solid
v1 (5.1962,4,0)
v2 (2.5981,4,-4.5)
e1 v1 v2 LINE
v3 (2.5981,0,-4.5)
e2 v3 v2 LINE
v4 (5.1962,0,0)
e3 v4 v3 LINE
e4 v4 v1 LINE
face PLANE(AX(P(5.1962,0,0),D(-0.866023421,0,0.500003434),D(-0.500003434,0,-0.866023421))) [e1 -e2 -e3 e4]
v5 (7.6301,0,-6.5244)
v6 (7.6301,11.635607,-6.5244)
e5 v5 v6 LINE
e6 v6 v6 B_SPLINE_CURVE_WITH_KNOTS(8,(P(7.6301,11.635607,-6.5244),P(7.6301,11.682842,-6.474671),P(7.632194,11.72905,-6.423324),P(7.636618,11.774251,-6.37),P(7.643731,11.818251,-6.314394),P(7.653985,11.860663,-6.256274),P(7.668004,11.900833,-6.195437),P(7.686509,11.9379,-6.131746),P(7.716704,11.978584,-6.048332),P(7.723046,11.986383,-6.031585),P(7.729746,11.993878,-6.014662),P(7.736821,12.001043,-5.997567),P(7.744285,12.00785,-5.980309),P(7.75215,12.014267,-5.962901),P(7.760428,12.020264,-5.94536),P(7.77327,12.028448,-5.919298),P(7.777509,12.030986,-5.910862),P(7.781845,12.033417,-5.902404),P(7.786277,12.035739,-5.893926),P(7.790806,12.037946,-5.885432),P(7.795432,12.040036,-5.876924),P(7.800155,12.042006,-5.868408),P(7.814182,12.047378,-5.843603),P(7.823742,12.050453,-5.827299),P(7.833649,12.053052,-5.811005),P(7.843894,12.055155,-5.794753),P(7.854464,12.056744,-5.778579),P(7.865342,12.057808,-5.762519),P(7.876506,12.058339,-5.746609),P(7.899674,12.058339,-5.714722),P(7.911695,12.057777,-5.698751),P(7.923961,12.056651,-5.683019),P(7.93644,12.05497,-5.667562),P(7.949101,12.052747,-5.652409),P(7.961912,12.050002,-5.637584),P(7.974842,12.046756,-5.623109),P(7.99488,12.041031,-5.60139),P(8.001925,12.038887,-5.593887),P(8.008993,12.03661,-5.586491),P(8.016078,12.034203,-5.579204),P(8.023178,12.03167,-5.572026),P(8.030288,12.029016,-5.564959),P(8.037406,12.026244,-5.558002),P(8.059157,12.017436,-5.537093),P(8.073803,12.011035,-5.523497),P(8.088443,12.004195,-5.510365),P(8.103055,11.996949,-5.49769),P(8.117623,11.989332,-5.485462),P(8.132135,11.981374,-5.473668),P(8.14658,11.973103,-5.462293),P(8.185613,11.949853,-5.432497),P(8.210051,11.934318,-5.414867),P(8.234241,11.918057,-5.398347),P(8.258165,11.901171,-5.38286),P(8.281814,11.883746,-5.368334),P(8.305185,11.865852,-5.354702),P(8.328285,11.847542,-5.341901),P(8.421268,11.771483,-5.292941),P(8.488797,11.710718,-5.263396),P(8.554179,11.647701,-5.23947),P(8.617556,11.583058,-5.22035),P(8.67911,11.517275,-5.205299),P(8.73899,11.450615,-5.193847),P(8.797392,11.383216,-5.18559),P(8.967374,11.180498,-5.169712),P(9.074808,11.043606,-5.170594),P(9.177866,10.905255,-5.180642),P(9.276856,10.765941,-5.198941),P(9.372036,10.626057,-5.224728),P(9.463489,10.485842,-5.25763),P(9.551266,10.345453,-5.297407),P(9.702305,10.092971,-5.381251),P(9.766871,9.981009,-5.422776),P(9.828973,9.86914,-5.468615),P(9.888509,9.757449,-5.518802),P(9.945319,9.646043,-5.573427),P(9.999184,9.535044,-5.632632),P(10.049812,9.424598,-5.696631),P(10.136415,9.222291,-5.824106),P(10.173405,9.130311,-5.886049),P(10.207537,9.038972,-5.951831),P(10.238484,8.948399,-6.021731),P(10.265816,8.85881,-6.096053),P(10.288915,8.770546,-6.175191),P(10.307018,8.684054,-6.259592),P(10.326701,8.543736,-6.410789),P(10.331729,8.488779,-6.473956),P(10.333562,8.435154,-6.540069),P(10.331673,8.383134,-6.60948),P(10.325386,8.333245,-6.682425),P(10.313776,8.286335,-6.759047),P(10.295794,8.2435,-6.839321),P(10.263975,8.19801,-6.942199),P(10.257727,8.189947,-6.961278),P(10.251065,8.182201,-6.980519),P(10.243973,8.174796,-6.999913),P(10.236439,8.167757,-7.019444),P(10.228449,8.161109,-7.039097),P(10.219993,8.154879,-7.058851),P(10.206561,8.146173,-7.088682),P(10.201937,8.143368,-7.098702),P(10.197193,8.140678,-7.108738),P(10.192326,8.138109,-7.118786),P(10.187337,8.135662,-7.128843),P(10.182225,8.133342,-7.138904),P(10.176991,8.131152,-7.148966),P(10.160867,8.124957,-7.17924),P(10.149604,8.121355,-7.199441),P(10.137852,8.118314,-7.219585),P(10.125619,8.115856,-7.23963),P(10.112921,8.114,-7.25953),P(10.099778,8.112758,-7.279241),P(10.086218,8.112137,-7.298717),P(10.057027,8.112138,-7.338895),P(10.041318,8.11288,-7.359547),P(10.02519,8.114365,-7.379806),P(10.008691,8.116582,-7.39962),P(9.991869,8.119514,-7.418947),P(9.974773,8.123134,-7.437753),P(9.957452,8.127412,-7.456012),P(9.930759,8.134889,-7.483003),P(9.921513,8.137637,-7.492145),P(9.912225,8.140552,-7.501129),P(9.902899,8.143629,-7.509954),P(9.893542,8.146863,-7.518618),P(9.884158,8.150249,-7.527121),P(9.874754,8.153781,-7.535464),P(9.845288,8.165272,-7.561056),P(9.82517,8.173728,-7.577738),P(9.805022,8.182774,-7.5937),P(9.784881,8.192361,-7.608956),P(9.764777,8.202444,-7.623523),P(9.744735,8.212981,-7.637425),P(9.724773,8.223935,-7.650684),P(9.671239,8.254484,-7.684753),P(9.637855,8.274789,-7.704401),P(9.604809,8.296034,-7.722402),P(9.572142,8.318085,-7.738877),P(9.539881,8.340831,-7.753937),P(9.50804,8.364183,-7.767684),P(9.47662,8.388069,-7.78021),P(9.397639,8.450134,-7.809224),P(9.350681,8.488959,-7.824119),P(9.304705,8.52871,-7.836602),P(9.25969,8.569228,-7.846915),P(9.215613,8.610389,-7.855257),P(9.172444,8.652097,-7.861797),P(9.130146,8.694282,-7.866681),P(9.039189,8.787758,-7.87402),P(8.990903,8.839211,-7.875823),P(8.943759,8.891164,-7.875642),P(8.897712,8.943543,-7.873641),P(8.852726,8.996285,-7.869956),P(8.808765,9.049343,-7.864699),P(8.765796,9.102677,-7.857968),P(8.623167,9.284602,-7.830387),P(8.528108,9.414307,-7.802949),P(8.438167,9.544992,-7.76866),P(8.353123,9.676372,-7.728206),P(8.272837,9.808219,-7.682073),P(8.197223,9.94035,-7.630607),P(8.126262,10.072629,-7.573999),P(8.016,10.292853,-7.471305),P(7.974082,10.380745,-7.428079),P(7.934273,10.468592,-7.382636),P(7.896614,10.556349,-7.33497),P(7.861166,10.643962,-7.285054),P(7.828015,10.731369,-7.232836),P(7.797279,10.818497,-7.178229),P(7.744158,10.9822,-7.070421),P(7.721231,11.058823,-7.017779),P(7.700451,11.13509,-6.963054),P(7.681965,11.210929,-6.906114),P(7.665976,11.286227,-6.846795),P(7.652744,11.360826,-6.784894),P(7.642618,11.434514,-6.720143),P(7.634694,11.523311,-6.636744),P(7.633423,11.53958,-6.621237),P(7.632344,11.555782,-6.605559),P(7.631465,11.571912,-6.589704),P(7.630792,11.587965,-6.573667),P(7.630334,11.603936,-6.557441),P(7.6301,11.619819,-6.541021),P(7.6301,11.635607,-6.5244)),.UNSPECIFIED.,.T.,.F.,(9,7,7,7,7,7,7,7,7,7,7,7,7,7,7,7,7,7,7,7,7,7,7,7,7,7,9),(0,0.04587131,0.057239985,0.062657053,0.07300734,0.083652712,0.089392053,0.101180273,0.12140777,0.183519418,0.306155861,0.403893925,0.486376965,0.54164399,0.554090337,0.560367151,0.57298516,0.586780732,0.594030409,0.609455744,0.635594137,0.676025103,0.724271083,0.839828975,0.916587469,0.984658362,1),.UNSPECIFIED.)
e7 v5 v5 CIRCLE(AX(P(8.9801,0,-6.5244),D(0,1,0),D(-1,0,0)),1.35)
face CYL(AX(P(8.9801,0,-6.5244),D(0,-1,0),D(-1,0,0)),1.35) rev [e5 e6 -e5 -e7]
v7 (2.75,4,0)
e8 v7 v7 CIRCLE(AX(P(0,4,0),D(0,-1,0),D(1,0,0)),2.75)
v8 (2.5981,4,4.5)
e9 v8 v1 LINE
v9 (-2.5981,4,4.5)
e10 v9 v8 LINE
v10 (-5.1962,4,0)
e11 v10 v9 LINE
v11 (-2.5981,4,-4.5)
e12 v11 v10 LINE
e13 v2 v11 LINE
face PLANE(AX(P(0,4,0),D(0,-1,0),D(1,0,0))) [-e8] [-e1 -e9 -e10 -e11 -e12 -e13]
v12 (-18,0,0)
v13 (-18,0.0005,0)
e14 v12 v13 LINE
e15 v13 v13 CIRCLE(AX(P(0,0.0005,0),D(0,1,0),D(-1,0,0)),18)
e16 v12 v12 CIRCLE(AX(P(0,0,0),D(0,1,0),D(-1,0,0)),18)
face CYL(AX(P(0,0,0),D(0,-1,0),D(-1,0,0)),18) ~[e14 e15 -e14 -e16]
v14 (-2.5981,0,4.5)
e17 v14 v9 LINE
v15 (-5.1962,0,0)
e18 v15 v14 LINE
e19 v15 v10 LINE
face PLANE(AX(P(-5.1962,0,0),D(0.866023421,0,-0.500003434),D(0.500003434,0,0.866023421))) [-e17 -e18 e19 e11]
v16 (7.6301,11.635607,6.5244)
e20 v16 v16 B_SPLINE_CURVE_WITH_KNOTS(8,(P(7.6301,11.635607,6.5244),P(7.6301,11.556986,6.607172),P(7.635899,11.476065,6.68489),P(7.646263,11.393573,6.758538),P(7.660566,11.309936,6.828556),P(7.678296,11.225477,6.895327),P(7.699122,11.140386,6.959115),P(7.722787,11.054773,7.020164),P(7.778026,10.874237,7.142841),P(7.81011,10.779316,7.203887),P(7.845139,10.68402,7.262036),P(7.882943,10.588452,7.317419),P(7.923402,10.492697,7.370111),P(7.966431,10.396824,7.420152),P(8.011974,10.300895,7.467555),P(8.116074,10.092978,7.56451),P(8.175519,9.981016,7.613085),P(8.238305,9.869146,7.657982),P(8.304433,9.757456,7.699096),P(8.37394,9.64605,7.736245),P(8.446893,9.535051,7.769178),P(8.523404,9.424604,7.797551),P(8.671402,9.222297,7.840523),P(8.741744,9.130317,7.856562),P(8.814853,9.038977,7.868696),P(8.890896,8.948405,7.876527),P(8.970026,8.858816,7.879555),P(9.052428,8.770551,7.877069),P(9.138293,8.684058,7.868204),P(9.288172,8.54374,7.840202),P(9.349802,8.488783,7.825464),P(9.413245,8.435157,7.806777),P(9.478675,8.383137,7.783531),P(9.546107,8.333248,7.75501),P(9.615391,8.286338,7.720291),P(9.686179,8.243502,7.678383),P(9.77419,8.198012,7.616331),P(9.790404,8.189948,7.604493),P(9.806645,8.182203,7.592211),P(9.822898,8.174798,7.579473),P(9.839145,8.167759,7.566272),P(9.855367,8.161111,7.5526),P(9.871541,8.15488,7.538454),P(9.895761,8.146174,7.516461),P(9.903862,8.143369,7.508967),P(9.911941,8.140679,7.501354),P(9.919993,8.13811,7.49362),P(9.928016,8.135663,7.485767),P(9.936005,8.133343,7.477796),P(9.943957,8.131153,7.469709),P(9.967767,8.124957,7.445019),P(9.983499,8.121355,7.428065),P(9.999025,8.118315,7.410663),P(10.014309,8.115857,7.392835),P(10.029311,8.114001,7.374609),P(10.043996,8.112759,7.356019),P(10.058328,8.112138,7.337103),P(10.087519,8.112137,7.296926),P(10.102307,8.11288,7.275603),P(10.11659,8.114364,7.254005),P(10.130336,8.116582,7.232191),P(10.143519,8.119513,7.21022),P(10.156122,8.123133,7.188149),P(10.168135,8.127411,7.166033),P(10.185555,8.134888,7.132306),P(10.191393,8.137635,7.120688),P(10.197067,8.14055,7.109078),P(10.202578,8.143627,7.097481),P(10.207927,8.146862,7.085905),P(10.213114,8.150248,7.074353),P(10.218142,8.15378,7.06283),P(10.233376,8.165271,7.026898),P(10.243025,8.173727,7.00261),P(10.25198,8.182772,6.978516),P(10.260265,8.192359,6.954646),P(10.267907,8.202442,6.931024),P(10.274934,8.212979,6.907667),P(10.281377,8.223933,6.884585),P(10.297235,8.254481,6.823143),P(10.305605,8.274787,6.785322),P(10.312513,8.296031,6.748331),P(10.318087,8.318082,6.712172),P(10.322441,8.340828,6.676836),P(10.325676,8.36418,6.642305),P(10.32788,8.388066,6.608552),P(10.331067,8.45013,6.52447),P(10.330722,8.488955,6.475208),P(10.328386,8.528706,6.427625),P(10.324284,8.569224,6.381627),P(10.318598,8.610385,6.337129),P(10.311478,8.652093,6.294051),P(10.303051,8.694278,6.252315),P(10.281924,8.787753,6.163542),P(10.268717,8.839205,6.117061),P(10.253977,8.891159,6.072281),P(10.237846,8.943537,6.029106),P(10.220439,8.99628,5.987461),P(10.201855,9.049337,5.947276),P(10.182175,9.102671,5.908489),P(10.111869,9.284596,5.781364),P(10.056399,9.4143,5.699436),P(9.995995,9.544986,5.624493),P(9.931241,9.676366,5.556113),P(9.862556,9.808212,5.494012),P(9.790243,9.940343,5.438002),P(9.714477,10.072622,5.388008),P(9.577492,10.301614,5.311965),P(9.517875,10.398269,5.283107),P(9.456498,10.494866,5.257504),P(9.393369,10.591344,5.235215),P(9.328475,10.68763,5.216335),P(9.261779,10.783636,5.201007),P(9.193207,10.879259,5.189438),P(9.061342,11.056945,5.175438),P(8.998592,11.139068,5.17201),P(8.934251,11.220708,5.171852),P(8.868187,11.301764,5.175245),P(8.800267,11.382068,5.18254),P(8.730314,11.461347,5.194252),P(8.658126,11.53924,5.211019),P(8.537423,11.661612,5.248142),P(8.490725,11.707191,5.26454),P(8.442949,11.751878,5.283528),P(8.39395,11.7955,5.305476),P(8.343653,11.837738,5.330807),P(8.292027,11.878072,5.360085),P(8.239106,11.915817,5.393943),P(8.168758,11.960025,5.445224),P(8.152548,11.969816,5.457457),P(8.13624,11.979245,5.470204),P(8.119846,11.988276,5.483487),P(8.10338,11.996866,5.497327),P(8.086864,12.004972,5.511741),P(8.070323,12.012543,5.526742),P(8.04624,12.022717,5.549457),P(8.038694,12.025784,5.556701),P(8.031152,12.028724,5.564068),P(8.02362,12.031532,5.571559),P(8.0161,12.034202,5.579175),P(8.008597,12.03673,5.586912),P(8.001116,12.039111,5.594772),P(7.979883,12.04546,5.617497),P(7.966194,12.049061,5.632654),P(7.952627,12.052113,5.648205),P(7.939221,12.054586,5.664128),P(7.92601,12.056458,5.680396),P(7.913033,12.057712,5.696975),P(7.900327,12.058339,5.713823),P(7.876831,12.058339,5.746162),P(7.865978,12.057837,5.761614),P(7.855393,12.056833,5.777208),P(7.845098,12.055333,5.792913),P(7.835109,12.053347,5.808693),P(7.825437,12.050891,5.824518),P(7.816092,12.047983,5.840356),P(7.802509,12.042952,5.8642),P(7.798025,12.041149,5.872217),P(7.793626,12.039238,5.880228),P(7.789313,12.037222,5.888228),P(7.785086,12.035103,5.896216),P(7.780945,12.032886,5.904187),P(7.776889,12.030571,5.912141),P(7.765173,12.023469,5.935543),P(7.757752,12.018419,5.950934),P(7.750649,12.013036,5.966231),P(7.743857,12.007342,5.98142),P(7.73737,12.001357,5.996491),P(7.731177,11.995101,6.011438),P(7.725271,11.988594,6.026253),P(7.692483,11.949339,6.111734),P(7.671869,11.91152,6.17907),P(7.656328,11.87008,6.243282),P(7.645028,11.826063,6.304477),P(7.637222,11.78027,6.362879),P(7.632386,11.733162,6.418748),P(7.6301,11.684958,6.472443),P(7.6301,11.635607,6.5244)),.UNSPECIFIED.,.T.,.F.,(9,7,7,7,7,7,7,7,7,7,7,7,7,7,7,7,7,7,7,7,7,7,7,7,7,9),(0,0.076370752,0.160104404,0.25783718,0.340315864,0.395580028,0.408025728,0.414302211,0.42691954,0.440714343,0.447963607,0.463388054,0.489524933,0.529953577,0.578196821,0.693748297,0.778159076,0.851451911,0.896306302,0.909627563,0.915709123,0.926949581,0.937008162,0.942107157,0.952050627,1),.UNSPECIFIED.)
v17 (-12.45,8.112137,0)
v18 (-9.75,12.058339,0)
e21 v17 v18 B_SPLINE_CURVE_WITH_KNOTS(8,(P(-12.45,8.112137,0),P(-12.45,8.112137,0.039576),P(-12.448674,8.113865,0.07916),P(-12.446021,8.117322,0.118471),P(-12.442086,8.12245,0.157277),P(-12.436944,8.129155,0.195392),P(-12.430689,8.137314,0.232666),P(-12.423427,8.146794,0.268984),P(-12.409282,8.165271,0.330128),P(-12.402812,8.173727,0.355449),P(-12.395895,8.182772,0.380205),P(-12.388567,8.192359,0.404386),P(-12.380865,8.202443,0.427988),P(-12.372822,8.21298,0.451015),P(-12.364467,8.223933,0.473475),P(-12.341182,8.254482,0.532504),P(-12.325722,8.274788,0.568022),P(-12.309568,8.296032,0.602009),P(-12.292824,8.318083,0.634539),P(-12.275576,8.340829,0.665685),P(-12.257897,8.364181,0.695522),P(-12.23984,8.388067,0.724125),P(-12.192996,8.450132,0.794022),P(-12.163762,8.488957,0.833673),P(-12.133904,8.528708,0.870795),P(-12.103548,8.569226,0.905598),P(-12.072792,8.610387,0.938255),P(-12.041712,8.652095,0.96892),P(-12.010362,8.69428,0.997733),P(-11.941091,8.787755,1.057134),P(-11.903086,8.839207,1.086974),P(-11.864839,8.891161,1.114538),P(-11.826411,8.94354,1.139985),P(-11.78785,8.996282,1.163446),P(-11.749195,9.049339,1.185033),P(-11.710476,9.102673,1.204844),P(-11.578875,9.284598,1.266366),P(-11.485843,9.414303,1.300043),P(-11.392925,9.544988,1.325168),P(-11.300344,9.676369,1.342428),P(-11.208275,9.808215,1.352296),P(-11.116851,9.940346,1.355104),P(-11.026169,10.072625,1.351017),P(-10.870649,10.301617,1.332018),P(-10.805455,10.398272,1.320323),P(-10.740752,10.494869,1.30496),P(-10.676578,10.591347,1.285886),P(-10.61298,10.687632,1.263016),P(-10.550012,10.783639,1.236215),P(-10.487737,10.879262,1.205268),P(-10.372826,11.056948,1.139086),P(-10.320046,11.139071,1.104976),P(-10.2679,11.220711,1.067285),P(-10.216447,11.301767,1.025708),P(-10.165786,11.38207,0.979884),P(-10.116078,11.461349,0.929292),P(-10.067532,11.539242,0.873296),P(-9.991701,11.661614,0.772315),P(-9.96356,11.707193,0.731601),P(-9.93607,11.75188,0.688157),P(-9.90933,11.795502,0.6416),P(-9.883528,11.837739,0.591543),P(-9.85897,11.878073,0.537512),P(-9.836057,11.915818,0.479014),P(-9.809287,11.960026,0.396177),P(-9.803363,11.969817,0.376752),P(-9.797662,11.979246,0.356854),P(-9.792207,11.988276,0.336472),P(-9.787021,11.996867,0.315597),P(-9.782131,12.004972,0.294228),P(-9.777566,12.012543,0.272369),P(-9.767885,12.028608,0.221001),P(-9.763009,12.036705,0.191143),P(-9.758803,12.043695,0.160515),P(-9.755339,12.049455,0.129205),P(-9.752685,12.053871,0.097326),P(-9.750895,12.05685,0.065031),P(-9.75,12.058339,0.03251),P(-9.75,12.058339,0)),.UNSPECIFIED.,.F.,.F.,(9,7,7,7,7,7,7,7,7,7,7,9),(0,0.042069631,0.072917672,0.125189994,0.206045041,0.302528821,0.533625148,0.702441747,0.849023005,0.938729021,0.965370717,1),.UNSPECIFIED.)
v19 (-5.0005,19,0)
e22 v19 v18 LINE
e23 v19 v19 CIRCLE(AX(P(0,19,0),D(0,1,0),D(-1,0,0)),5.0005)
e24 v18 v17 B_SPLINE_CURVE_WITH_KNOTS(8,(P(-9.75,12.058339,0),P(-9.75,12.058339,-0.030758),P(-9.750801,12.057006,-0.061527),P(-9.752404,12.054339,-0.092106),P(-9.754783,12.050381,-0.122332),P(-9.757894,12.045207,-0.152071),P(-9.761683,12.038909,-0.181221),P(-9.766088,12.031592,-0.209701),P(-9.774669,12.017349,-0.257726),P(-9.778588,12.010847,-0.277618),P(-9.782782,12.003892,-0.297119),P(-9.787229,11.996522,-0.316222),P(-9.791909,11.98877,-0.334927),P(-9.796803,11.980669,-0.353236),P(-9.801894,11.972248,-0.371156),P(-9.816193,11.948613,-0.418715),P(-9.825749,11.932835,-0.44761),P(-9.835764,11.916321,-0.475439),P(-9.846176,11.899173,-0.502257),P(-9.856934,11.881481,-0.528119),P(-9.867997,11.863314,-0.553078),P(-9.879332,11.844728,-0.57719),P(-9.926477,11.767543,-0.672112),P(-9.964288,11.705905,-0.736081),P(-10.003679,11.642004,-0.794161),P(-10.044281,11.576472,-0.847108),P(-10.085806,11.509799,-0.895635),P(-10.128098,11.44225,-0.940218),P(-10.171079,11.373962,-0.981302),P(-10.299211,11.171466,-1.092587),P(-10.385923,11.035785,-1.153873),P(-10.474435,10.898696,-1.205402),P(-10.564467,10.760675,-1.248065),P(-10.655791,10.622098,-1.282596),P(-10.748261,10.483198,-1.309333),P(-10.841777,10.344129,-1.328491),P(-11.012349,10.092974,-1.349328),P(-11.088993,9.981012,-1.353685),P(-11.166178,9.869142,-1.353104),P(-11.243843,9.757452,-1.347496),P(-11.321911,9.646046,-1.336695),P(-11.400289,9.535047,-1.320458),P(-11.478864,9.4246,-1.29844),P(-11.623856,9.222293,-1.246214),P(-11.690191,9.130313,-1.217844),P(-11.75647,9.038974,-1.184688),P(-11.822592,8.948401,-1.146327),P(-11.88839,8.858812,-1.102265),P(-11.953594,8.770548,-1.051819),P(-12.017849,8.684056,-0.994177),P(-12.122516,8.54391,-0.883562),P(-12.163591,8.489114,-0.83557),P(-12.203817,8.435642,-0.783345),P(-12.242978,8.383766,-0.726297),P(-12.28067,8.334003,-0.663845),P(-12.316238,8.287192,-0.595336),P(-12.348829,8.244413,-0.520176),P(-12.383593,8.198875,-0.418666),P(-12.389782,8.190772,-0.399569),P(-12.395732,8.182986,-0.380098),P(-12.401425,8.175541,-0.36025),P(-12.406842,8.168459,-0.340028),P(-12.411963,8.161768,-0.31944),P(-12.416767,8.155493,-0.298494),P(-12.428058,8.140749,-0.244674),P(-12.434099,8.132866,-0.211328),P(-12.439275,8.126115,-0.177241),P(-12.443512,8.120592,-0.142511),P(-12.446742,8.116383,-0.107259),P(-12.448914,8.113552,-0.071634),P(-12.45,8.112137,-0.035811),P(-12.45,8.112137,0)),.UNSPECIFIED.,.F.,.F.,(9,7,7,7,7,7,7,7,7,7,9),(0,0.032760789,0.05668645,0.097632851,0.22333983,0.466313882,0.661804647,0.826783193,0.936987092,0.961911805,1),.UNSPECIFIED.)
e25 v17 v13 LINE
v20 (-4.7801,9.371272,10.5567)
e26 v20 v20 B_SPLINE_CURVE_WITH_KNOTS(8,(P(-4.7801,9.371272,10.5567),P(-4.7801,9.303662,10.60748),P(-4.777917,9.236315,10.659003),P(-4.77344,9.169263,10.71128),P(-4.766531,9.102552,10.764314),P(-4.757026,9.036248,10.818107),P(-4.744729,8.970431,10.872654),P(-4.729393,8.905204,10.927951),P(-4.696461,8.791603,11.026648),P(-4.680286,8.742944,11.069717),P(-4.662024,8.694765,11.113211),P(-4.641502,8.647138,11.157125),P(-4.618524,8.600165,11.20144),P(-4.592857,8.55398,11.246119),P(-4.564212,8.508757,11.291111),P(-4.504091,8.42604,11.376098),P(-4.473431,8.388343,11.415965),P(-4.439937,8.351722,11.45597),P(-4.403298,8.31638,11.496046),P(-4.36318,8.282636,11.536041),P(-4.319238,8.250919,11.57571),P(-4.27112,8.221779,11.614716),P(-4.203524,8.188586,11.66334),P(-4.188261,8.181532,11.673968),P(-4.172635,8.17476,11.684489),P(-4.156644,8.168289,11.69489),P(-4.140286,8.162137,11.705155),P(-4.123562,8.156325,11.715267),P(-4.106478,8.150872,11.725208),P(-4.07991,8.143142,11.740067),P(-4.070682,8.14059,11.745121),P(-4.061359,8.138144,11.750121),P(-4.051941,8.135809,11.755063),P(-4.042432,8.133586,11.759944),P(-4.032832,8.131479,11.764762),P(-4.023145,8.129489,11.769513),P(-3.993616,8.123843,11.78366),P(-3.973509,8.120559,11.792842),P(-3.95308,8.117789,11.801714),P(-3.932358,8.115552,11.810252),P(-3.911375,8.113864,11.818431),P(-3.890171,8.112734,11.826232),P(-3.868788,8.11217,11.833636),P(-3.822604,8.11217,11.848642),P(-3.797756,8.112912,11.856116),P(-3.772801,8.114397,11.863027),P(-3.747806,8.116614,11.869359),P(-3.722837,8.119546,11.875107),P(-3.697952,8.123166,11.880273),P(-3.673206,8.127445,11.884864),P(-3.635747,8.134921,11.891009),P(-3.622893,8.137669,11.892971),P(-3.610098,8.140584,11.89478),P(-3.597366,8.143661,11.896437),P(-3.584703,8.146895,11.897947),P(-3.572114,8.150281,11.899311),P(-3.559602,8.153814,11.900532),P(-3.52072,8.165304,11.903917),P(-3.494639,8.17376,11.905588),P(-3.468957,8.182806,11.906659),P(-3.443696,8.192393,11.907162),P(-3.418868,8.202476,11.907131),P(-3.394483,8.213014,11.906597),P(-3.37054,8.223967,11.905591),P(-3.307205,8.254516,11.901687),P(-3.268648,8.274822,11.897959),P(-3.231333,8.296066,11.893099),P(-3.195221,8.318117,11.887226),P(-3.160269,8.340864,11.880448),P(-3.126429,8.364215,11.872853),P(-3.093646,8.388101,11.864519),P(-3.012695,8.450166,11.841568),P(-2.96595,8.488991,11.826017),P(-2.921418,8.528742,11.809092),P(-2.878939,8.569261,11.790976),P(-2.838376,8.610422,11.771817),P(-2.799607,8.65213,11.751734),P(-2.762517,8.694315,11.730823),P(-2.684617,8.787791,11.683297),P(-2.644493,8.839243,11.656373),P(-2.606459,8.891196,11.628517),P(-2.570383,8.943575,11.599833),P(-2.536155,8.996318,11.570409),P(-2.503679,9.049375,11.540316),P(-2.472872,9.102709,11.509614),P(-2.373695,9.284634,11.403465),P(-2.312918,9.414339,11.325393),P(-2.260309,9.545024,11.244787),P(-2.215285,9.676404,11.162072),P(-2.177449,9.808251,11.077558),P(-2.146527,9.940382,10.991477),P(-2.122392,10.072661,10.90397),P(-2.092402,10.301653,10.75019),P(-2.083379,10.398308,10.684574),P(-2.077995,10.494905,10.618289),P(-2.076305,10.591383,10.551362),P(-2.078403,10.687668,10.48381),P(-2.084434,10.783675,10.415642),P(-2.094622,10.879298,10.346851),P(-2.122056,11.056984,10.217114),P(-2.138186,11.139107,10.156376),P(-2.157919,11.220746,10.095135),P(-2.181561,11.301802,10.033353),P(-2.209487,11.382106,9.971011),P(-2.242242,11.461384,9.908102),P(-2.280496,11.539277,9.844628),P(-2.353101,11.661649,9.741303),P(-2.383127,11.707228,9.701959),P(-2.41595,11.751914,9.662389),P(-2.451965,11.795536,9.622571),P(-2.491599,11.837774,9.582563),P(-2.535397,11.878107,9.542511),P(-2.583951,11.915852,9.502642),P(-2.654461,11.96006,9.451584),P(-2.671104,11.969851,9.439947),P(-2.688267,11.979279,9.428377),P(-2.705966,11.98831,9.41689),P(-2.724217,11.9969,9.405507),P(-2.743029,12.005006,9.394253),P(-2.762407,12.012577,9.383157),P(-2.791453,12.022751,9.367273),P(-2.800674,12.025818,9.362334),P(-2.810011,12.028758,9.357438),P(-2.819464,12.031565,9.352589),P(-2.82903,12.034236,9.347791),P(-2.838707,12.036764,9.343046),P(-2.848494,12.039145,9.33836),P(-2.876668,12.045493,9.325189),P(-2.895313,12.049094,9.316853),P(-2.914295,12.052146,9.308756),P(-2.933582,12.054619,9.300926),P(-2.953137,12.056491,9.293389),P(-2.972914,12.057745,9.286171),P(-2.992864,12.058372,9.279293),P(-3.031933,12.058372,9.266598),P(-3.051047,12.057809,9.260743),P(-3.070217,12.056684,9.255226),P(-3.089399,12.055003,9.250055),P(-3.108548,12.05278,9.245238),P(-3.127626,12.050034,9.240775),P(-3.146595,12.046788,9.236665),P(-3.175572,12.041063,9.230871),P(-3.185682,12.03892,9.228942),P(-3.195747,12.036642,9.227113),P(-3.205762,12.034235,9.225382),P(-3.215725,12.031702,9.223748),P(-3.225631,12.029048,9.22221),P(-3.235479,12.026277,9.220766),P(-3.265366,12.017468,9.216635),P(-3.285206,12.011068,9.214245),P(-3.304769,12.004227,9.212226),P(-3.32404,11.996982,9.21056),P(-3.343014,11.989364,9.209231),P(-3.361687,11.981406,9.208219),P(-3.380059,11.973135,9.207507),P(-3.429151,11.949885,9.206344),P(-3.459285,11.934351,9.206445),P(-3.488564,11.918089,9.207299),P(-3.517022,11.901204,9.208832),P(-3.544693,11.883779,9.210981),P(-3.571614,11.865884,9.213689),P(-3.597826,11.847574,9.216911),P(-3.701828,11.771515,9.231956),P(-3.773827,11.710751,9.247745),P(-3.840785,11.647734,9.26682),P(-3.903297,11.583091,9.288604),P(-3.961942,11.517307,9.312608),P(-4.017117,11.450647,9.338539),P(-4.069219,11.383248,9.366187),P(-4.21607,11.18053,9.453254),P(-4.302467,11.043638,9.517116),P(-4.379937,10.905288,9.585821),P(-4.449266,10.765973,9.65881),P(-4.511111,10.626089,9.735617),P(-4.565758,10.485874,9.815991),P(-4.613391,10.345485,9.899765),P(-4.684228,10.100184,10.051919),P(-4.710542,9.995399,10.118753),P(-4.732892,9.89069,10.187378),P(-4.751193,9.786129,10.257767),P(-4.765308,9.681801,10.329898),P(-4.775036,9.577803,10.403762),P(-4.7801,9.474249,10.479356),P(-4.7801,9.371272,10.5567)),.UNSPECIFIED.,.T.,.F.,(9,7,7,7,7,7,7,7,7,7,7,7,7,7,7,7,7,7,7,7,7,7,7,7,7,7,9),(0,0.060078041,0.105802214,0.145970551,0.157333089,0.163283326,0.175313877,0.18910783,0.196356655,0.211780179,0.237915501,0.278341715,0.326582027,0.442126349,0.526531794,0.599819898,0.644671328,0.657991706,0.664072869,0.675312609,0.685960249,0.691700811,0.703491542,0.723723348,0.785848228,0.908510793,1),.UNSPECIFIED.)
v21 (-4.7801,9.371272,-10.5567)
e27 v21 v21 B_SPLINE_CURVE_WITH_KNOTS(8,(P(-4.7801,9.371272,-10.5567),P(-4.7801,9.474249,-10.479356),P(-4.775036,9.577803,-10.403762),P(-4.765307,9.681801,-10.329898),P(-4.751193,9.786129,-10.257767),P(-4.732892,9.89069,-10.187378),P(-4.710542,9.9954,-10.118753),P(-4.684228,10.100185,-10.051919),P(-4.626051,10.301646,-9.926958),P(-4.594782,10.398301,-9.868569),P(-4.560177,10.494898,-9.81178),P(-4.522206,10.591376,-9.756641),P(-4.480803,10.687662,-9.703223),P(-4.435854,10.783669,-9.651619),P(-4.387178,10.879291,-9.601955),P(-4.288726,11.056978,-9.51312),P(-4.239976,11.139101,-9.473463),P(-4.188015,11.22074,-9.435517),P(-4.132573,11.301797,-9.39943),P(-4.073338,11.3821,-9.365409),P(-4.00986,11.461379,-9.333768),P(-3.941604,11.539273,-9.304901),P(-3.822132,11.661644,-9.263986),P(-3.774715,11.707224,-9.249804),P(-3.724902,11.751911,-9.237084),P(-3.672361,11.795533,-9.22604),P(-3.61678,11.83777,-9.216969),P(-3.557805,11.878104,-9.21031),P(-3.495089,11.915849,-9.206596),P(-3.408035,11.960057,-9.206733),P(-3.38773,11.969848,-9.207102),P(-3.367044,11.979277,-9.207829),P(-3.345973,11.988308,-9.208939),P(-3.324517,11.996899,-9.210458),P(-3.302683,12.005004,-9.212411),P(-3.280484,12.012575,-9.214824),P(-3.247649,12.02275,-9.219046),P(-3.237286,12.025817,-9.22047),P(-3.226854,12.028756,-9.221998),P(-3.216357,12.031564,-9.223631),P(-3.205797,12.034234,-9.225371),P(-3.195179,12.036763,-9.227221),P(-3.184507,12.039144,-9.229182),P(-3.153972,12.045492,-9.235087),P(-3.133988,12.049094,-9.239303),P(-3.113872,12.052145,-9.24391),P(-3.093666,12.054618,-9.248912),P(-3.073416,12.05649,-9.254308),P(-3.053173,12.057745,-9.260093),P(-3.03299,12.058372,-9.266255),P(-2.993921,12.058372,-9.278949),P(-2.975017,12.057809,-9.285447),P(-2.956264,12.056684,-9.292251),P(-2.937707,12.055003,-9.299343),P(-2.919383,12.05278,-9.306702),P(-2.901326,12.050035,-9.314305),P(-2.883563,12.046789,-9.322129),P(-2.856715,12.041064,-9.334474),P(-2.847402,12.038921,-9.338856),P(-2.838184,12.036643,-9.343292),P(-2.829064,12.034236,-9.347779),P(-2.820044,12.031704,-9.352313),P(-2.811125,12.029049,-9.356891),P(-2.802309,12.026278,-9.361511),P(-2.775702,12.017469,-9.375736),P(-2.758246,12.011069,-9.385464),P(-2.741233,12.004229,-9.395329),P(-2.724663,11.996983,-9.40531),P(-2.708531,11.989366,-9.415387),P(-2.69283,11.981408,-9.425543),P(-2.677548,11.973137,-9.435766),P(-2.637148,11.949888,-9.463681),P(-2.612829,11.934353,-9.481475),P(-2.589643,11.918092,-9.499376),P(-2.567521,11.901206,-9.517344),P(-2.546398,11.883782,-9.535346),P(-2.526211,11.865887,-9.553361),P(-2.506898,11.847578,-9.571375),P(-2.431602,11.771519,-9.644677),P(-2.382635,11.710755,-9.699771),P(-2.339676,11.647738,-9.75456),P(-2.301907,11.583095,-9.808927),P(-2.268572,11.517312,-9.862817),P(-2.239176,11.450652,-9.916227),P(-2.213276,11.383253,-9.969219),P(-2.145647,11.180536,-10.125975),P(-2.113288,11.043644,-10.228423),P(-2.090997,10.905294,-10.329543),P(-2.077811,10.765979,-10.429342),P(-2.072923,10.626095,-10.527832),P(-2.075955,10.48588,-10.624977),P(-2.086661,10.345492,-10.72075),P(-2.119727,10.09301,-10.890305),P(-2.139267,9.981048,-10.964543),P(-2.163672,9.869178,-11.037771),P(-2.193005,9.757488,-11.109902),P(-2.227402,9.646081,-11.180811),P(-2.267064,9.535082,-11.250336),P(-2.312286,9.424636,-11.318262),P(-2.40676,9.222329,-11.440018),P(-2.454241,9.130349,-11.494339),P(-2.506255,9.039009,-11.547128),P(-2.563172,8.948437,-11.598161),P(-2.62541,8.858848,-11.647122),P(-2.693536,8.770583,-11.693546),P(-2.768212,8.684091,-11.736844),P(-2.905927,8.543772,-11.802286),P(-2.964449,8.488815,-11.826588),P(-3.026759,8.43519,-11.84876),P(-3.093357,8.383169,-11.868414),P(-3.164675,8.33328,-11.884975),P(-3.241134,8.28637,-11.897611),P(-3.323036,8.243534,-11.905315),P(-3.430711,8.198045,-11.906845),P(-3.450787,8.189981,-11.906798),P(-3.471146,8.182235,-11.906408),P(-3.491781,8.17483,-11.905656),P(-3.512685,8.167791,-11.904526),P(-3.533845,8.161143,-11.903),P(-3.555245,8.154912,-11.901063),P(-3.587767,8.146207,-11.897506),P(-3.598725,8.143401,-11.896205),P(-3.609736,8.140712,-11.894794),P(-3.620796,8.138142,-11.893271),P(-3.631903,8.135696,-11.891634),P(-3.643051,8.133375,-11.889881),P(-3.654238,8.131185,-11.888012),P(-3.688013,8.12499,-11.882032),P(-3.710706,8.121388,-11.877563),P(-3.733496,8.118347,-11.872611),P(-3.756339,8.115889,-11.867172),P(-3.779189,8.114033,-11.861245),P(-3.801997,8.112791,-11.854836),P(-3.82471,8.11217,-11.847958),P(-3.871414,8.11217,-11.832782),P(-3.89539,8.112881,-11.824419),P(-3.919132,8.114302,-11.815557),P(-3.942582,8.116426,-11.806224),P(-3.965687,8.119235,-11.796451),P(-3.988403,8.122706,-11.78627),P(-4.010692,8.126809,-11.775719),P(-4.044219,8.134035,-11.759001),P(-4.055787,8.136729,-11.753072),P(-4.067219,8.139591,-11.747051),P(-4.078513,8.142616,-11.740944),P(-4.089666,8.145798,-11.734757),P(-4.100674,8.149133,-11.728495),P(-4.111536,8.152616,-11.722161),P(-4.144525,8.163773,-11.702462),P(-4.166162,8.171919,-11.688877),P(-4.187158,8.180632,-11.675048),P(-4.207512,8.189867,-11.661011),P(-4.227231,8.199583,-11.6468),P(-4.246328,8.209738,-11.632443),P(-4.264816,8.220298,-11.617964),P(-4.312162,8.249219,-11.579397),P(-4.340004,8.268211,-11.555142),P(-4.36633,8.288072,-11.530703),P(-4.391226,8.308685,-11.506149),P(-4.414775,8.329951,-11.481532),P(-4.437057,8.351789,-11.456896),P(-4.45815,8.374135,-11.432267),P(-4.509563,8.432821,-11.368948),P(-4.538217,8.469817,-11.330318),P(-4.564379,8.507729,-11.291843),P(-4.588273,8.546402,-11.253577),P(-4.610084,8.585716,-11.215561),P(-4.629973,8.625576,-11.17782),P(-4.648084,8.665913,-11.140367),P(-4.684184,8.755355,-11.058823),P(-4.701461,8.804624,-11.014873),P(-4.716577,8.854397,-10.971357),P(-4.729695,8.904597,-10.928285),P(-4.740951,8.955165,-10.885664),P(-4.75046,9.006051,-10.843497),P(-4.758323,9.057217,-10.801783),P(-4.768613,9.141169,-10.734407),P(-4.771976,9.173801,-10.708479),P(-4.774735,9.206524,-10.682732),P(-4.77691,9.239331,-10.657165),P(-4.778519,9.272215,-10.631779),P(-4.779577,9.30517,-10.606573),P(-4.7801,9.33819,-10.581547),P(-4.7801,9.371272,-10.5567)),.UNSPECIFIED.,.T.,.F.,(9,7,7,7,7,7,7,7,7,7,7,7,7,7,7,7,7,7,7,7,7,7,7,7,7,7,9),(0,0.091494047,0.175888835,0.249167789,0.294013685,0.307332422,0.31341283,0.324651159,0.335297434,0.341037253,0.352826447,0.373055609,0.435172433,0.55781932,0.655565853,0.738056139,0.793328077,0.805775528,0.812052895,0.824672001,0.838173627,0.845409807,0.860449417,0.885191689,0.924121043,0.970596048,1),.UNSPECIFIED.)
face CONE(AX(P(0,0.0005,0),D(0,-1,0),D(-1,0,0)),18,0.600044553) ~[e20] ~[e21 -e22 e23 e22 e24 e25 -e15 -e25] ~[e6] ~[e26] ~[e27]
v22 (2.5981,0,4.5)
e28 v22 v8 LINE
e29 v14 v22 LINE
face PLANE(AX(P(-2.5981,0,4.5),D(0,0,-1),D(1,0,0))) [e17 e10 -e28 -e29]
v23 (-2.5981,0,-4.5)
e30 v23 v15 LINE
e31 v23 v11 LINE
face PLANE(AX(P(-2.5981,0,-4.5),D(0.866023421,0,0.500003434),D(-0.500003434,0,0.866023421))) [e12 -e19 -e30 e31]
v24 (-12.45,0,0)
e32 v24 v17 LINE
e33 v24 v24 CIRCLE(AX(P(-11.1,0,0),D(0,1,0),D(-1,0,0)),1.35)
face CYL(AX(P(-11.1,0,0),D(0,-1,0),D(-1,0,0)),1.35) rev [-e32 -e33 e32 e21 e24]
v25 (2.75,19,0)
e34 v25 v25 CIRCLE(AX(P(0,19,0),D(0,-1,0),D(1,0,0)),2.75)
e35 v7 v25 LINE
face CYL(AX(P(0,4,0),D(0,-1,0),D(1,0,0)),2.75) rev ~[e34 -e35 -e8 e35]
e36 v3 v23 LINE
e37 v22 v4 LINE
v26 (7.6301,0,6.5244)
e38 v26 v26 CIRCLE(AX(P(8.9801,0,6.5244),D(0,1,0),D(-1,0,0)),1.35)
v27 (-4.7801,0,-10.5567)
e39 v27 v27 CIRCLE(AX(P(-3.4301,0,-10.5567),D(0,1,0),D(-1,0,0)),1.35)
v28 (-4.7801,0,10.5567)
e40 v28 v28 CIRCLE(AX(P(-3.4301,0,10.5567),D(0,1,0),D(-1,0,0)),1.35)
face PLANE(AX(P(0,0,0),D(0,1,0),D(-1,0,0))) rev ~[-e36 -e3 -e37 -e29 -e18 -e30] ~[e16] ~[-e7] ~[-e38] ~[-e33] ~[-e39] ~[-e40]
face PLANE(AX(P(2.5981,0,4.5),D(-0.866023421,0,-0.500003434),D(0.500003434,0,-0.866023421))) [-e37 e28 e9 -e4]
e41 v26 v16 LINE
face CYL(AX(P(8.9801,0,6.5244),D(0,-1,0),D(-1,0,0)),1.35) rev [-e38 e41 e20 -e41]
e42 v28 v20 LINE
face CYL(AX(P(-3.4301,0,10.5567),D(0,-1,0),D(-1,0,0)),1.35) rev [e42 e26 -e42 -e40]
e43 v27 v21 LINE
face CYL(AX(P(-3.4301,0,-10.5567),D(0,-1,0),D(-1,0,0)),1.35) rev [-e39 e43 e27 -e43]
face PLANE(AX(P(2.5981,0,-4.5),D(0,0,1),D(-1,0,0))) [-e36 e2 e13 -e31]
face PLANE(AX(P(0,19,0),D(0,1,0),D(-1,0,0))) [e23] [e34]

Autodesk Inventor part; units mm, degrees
ref_plane "YZ Plane" through (0, 0, 0) normal (1, 0, 0) x (0, 1, 0)
ref_plane "XZ Plane" through (0, 0, 0) normal (0, 1, 0) x (-1, 0, 0)
ref_plane "XY Plane" through (0, 0, 0) normal (0, 0, 1) x (1, 0, 0)
sketch "Sketch1" plane through (0, 0, 0) normal (0, 1, 0) x (-1, 0, 0)
  circle A0 centre (0, 0) radius 18
  line L0 (10.3065, -1.0922) -> (4.2236, -9.4646)
  line L1 (2.1462, -10.1396) -> (-7.6962, -6.9416)
  line L2 (-8.9801, -5.1744) -> (-8.9801, 5.1744)
  line L3 (-7.6962, 6.9416) -> (2.1462, 10.1396)
  line L4 (4.2236, 9.4646) -> (10.3065, 1.0922)
  circle A1 centre (3.4301, 10.5567) radius 1.35
  circle A2 centre (11.1, 0) radius 1.35
  circle A3 centre (-8.9801, 6.5244) radius 1.35
  circle A4 centre (-8.9801, -6.5244) radius 1.35
  circle A5 centre (3.4301, -10.5567) radius 1.35
  arc A6 (11.0179, 1.3475) -> (4.6863, 10.0622) centre (0, 0) ccw
  arc A7 (4.6863, -10.0622) -> (11.0179, -1.3475) centre (0, 0) ccw
  arc A8 (-8.1216, -7.5663) -> (2.1232, -10.8951) centre (0, 0) ccw
  arc A9 (2.1232, 10.8951) -> (-8.1216, 7.5663) centre (0, 0) ccw
  arc A10 (-9.7057, 5.386) -> (-9.7057, -5.386) centre (0, 0) ccw
  dimension "d0" = 36
  dimension "d2" = 2.7
  dimension "d3" = 2.7
  dimension "d4" = 2.7
  dimension "d5" = 2.7
  dimension "d6" = 2.7
extrude "Extrusion1" add sketch "Sketch1" along normal blind 19 contours A0 | A2 A7 A5 L0 | L0 A5 L1 A4 L2 A3 L3 A1 L4 A2 | A2 | A5 | L4 A1 A6 A2 | A5 A8 A4 L1 | A1 | A4 | L3 A3 A9 A1 | A3 | A10 A3 L2 A4
sketch "Sketch3" plane through (0, 0, 0) normal (0, -1, 0) x (1, 0, 0)
  circle A0 centre (0, 0) radius 18 projected
  line L0 (-5.1962, 0) -> (-2.5981, 4.5)
  line L1 (-2.5981, 4.5) -> (2.5981, 4.5)
  line L2 (2.5981, 4.5) -> (5.1962, 0)
  line L3 (5.1962, 0) -> (2.5981, -4.5)
  line L4 (2.5981, -4.5) -> (-2.5981, -4.5)
  line L5 (-2.5981, -4.5) -> (-5.1962, 0)
  dimension "d23" = 9
extrude "Extrusion3" cut sketch "Sketch3" against normal blind 4 contours L0 L1 L2 L3 L4 L5
sketch "Sketch4" plane through (0, 4, 0) normal (0, -1, 0) x (1, 0, 0)
  circle A0 centre (0, 0) radius 2.75
  dimension "d26" = 5.5
extrude "Extrusion4" cut sketch "Sketch4" against normal blind 17
chamfer "Chamfer2" distance 13 distance2 19 1 edges at (18, 19, 0) measured on face at (-12.7157, 19, -1.6553)
extrude "Extrusion5" cut sketch "Sketch1" along normal blind 14 contours A2 | A5 | A1 | A4 | A3
equation "\"BendRadius\" = Thickness"
equation "\"BendReliefWidth\" = Thickness"
equation "\"BendReliefDepth\" = 0.5 * Thickness"
equation "\"CornerReliefSize\" = 4 * Thickness"
equation "\"MinimumRemnant\" = 2 * Thickness"
equation "\"TransitionRadius\" = BendRadius"
equation "\"JacobiRadiusSize\" = BendRadius"
equation "\"GapSize\" = Thickness"
equation "\"Thickness\" = 0.5"
properties part number "motorSupportShaft"
